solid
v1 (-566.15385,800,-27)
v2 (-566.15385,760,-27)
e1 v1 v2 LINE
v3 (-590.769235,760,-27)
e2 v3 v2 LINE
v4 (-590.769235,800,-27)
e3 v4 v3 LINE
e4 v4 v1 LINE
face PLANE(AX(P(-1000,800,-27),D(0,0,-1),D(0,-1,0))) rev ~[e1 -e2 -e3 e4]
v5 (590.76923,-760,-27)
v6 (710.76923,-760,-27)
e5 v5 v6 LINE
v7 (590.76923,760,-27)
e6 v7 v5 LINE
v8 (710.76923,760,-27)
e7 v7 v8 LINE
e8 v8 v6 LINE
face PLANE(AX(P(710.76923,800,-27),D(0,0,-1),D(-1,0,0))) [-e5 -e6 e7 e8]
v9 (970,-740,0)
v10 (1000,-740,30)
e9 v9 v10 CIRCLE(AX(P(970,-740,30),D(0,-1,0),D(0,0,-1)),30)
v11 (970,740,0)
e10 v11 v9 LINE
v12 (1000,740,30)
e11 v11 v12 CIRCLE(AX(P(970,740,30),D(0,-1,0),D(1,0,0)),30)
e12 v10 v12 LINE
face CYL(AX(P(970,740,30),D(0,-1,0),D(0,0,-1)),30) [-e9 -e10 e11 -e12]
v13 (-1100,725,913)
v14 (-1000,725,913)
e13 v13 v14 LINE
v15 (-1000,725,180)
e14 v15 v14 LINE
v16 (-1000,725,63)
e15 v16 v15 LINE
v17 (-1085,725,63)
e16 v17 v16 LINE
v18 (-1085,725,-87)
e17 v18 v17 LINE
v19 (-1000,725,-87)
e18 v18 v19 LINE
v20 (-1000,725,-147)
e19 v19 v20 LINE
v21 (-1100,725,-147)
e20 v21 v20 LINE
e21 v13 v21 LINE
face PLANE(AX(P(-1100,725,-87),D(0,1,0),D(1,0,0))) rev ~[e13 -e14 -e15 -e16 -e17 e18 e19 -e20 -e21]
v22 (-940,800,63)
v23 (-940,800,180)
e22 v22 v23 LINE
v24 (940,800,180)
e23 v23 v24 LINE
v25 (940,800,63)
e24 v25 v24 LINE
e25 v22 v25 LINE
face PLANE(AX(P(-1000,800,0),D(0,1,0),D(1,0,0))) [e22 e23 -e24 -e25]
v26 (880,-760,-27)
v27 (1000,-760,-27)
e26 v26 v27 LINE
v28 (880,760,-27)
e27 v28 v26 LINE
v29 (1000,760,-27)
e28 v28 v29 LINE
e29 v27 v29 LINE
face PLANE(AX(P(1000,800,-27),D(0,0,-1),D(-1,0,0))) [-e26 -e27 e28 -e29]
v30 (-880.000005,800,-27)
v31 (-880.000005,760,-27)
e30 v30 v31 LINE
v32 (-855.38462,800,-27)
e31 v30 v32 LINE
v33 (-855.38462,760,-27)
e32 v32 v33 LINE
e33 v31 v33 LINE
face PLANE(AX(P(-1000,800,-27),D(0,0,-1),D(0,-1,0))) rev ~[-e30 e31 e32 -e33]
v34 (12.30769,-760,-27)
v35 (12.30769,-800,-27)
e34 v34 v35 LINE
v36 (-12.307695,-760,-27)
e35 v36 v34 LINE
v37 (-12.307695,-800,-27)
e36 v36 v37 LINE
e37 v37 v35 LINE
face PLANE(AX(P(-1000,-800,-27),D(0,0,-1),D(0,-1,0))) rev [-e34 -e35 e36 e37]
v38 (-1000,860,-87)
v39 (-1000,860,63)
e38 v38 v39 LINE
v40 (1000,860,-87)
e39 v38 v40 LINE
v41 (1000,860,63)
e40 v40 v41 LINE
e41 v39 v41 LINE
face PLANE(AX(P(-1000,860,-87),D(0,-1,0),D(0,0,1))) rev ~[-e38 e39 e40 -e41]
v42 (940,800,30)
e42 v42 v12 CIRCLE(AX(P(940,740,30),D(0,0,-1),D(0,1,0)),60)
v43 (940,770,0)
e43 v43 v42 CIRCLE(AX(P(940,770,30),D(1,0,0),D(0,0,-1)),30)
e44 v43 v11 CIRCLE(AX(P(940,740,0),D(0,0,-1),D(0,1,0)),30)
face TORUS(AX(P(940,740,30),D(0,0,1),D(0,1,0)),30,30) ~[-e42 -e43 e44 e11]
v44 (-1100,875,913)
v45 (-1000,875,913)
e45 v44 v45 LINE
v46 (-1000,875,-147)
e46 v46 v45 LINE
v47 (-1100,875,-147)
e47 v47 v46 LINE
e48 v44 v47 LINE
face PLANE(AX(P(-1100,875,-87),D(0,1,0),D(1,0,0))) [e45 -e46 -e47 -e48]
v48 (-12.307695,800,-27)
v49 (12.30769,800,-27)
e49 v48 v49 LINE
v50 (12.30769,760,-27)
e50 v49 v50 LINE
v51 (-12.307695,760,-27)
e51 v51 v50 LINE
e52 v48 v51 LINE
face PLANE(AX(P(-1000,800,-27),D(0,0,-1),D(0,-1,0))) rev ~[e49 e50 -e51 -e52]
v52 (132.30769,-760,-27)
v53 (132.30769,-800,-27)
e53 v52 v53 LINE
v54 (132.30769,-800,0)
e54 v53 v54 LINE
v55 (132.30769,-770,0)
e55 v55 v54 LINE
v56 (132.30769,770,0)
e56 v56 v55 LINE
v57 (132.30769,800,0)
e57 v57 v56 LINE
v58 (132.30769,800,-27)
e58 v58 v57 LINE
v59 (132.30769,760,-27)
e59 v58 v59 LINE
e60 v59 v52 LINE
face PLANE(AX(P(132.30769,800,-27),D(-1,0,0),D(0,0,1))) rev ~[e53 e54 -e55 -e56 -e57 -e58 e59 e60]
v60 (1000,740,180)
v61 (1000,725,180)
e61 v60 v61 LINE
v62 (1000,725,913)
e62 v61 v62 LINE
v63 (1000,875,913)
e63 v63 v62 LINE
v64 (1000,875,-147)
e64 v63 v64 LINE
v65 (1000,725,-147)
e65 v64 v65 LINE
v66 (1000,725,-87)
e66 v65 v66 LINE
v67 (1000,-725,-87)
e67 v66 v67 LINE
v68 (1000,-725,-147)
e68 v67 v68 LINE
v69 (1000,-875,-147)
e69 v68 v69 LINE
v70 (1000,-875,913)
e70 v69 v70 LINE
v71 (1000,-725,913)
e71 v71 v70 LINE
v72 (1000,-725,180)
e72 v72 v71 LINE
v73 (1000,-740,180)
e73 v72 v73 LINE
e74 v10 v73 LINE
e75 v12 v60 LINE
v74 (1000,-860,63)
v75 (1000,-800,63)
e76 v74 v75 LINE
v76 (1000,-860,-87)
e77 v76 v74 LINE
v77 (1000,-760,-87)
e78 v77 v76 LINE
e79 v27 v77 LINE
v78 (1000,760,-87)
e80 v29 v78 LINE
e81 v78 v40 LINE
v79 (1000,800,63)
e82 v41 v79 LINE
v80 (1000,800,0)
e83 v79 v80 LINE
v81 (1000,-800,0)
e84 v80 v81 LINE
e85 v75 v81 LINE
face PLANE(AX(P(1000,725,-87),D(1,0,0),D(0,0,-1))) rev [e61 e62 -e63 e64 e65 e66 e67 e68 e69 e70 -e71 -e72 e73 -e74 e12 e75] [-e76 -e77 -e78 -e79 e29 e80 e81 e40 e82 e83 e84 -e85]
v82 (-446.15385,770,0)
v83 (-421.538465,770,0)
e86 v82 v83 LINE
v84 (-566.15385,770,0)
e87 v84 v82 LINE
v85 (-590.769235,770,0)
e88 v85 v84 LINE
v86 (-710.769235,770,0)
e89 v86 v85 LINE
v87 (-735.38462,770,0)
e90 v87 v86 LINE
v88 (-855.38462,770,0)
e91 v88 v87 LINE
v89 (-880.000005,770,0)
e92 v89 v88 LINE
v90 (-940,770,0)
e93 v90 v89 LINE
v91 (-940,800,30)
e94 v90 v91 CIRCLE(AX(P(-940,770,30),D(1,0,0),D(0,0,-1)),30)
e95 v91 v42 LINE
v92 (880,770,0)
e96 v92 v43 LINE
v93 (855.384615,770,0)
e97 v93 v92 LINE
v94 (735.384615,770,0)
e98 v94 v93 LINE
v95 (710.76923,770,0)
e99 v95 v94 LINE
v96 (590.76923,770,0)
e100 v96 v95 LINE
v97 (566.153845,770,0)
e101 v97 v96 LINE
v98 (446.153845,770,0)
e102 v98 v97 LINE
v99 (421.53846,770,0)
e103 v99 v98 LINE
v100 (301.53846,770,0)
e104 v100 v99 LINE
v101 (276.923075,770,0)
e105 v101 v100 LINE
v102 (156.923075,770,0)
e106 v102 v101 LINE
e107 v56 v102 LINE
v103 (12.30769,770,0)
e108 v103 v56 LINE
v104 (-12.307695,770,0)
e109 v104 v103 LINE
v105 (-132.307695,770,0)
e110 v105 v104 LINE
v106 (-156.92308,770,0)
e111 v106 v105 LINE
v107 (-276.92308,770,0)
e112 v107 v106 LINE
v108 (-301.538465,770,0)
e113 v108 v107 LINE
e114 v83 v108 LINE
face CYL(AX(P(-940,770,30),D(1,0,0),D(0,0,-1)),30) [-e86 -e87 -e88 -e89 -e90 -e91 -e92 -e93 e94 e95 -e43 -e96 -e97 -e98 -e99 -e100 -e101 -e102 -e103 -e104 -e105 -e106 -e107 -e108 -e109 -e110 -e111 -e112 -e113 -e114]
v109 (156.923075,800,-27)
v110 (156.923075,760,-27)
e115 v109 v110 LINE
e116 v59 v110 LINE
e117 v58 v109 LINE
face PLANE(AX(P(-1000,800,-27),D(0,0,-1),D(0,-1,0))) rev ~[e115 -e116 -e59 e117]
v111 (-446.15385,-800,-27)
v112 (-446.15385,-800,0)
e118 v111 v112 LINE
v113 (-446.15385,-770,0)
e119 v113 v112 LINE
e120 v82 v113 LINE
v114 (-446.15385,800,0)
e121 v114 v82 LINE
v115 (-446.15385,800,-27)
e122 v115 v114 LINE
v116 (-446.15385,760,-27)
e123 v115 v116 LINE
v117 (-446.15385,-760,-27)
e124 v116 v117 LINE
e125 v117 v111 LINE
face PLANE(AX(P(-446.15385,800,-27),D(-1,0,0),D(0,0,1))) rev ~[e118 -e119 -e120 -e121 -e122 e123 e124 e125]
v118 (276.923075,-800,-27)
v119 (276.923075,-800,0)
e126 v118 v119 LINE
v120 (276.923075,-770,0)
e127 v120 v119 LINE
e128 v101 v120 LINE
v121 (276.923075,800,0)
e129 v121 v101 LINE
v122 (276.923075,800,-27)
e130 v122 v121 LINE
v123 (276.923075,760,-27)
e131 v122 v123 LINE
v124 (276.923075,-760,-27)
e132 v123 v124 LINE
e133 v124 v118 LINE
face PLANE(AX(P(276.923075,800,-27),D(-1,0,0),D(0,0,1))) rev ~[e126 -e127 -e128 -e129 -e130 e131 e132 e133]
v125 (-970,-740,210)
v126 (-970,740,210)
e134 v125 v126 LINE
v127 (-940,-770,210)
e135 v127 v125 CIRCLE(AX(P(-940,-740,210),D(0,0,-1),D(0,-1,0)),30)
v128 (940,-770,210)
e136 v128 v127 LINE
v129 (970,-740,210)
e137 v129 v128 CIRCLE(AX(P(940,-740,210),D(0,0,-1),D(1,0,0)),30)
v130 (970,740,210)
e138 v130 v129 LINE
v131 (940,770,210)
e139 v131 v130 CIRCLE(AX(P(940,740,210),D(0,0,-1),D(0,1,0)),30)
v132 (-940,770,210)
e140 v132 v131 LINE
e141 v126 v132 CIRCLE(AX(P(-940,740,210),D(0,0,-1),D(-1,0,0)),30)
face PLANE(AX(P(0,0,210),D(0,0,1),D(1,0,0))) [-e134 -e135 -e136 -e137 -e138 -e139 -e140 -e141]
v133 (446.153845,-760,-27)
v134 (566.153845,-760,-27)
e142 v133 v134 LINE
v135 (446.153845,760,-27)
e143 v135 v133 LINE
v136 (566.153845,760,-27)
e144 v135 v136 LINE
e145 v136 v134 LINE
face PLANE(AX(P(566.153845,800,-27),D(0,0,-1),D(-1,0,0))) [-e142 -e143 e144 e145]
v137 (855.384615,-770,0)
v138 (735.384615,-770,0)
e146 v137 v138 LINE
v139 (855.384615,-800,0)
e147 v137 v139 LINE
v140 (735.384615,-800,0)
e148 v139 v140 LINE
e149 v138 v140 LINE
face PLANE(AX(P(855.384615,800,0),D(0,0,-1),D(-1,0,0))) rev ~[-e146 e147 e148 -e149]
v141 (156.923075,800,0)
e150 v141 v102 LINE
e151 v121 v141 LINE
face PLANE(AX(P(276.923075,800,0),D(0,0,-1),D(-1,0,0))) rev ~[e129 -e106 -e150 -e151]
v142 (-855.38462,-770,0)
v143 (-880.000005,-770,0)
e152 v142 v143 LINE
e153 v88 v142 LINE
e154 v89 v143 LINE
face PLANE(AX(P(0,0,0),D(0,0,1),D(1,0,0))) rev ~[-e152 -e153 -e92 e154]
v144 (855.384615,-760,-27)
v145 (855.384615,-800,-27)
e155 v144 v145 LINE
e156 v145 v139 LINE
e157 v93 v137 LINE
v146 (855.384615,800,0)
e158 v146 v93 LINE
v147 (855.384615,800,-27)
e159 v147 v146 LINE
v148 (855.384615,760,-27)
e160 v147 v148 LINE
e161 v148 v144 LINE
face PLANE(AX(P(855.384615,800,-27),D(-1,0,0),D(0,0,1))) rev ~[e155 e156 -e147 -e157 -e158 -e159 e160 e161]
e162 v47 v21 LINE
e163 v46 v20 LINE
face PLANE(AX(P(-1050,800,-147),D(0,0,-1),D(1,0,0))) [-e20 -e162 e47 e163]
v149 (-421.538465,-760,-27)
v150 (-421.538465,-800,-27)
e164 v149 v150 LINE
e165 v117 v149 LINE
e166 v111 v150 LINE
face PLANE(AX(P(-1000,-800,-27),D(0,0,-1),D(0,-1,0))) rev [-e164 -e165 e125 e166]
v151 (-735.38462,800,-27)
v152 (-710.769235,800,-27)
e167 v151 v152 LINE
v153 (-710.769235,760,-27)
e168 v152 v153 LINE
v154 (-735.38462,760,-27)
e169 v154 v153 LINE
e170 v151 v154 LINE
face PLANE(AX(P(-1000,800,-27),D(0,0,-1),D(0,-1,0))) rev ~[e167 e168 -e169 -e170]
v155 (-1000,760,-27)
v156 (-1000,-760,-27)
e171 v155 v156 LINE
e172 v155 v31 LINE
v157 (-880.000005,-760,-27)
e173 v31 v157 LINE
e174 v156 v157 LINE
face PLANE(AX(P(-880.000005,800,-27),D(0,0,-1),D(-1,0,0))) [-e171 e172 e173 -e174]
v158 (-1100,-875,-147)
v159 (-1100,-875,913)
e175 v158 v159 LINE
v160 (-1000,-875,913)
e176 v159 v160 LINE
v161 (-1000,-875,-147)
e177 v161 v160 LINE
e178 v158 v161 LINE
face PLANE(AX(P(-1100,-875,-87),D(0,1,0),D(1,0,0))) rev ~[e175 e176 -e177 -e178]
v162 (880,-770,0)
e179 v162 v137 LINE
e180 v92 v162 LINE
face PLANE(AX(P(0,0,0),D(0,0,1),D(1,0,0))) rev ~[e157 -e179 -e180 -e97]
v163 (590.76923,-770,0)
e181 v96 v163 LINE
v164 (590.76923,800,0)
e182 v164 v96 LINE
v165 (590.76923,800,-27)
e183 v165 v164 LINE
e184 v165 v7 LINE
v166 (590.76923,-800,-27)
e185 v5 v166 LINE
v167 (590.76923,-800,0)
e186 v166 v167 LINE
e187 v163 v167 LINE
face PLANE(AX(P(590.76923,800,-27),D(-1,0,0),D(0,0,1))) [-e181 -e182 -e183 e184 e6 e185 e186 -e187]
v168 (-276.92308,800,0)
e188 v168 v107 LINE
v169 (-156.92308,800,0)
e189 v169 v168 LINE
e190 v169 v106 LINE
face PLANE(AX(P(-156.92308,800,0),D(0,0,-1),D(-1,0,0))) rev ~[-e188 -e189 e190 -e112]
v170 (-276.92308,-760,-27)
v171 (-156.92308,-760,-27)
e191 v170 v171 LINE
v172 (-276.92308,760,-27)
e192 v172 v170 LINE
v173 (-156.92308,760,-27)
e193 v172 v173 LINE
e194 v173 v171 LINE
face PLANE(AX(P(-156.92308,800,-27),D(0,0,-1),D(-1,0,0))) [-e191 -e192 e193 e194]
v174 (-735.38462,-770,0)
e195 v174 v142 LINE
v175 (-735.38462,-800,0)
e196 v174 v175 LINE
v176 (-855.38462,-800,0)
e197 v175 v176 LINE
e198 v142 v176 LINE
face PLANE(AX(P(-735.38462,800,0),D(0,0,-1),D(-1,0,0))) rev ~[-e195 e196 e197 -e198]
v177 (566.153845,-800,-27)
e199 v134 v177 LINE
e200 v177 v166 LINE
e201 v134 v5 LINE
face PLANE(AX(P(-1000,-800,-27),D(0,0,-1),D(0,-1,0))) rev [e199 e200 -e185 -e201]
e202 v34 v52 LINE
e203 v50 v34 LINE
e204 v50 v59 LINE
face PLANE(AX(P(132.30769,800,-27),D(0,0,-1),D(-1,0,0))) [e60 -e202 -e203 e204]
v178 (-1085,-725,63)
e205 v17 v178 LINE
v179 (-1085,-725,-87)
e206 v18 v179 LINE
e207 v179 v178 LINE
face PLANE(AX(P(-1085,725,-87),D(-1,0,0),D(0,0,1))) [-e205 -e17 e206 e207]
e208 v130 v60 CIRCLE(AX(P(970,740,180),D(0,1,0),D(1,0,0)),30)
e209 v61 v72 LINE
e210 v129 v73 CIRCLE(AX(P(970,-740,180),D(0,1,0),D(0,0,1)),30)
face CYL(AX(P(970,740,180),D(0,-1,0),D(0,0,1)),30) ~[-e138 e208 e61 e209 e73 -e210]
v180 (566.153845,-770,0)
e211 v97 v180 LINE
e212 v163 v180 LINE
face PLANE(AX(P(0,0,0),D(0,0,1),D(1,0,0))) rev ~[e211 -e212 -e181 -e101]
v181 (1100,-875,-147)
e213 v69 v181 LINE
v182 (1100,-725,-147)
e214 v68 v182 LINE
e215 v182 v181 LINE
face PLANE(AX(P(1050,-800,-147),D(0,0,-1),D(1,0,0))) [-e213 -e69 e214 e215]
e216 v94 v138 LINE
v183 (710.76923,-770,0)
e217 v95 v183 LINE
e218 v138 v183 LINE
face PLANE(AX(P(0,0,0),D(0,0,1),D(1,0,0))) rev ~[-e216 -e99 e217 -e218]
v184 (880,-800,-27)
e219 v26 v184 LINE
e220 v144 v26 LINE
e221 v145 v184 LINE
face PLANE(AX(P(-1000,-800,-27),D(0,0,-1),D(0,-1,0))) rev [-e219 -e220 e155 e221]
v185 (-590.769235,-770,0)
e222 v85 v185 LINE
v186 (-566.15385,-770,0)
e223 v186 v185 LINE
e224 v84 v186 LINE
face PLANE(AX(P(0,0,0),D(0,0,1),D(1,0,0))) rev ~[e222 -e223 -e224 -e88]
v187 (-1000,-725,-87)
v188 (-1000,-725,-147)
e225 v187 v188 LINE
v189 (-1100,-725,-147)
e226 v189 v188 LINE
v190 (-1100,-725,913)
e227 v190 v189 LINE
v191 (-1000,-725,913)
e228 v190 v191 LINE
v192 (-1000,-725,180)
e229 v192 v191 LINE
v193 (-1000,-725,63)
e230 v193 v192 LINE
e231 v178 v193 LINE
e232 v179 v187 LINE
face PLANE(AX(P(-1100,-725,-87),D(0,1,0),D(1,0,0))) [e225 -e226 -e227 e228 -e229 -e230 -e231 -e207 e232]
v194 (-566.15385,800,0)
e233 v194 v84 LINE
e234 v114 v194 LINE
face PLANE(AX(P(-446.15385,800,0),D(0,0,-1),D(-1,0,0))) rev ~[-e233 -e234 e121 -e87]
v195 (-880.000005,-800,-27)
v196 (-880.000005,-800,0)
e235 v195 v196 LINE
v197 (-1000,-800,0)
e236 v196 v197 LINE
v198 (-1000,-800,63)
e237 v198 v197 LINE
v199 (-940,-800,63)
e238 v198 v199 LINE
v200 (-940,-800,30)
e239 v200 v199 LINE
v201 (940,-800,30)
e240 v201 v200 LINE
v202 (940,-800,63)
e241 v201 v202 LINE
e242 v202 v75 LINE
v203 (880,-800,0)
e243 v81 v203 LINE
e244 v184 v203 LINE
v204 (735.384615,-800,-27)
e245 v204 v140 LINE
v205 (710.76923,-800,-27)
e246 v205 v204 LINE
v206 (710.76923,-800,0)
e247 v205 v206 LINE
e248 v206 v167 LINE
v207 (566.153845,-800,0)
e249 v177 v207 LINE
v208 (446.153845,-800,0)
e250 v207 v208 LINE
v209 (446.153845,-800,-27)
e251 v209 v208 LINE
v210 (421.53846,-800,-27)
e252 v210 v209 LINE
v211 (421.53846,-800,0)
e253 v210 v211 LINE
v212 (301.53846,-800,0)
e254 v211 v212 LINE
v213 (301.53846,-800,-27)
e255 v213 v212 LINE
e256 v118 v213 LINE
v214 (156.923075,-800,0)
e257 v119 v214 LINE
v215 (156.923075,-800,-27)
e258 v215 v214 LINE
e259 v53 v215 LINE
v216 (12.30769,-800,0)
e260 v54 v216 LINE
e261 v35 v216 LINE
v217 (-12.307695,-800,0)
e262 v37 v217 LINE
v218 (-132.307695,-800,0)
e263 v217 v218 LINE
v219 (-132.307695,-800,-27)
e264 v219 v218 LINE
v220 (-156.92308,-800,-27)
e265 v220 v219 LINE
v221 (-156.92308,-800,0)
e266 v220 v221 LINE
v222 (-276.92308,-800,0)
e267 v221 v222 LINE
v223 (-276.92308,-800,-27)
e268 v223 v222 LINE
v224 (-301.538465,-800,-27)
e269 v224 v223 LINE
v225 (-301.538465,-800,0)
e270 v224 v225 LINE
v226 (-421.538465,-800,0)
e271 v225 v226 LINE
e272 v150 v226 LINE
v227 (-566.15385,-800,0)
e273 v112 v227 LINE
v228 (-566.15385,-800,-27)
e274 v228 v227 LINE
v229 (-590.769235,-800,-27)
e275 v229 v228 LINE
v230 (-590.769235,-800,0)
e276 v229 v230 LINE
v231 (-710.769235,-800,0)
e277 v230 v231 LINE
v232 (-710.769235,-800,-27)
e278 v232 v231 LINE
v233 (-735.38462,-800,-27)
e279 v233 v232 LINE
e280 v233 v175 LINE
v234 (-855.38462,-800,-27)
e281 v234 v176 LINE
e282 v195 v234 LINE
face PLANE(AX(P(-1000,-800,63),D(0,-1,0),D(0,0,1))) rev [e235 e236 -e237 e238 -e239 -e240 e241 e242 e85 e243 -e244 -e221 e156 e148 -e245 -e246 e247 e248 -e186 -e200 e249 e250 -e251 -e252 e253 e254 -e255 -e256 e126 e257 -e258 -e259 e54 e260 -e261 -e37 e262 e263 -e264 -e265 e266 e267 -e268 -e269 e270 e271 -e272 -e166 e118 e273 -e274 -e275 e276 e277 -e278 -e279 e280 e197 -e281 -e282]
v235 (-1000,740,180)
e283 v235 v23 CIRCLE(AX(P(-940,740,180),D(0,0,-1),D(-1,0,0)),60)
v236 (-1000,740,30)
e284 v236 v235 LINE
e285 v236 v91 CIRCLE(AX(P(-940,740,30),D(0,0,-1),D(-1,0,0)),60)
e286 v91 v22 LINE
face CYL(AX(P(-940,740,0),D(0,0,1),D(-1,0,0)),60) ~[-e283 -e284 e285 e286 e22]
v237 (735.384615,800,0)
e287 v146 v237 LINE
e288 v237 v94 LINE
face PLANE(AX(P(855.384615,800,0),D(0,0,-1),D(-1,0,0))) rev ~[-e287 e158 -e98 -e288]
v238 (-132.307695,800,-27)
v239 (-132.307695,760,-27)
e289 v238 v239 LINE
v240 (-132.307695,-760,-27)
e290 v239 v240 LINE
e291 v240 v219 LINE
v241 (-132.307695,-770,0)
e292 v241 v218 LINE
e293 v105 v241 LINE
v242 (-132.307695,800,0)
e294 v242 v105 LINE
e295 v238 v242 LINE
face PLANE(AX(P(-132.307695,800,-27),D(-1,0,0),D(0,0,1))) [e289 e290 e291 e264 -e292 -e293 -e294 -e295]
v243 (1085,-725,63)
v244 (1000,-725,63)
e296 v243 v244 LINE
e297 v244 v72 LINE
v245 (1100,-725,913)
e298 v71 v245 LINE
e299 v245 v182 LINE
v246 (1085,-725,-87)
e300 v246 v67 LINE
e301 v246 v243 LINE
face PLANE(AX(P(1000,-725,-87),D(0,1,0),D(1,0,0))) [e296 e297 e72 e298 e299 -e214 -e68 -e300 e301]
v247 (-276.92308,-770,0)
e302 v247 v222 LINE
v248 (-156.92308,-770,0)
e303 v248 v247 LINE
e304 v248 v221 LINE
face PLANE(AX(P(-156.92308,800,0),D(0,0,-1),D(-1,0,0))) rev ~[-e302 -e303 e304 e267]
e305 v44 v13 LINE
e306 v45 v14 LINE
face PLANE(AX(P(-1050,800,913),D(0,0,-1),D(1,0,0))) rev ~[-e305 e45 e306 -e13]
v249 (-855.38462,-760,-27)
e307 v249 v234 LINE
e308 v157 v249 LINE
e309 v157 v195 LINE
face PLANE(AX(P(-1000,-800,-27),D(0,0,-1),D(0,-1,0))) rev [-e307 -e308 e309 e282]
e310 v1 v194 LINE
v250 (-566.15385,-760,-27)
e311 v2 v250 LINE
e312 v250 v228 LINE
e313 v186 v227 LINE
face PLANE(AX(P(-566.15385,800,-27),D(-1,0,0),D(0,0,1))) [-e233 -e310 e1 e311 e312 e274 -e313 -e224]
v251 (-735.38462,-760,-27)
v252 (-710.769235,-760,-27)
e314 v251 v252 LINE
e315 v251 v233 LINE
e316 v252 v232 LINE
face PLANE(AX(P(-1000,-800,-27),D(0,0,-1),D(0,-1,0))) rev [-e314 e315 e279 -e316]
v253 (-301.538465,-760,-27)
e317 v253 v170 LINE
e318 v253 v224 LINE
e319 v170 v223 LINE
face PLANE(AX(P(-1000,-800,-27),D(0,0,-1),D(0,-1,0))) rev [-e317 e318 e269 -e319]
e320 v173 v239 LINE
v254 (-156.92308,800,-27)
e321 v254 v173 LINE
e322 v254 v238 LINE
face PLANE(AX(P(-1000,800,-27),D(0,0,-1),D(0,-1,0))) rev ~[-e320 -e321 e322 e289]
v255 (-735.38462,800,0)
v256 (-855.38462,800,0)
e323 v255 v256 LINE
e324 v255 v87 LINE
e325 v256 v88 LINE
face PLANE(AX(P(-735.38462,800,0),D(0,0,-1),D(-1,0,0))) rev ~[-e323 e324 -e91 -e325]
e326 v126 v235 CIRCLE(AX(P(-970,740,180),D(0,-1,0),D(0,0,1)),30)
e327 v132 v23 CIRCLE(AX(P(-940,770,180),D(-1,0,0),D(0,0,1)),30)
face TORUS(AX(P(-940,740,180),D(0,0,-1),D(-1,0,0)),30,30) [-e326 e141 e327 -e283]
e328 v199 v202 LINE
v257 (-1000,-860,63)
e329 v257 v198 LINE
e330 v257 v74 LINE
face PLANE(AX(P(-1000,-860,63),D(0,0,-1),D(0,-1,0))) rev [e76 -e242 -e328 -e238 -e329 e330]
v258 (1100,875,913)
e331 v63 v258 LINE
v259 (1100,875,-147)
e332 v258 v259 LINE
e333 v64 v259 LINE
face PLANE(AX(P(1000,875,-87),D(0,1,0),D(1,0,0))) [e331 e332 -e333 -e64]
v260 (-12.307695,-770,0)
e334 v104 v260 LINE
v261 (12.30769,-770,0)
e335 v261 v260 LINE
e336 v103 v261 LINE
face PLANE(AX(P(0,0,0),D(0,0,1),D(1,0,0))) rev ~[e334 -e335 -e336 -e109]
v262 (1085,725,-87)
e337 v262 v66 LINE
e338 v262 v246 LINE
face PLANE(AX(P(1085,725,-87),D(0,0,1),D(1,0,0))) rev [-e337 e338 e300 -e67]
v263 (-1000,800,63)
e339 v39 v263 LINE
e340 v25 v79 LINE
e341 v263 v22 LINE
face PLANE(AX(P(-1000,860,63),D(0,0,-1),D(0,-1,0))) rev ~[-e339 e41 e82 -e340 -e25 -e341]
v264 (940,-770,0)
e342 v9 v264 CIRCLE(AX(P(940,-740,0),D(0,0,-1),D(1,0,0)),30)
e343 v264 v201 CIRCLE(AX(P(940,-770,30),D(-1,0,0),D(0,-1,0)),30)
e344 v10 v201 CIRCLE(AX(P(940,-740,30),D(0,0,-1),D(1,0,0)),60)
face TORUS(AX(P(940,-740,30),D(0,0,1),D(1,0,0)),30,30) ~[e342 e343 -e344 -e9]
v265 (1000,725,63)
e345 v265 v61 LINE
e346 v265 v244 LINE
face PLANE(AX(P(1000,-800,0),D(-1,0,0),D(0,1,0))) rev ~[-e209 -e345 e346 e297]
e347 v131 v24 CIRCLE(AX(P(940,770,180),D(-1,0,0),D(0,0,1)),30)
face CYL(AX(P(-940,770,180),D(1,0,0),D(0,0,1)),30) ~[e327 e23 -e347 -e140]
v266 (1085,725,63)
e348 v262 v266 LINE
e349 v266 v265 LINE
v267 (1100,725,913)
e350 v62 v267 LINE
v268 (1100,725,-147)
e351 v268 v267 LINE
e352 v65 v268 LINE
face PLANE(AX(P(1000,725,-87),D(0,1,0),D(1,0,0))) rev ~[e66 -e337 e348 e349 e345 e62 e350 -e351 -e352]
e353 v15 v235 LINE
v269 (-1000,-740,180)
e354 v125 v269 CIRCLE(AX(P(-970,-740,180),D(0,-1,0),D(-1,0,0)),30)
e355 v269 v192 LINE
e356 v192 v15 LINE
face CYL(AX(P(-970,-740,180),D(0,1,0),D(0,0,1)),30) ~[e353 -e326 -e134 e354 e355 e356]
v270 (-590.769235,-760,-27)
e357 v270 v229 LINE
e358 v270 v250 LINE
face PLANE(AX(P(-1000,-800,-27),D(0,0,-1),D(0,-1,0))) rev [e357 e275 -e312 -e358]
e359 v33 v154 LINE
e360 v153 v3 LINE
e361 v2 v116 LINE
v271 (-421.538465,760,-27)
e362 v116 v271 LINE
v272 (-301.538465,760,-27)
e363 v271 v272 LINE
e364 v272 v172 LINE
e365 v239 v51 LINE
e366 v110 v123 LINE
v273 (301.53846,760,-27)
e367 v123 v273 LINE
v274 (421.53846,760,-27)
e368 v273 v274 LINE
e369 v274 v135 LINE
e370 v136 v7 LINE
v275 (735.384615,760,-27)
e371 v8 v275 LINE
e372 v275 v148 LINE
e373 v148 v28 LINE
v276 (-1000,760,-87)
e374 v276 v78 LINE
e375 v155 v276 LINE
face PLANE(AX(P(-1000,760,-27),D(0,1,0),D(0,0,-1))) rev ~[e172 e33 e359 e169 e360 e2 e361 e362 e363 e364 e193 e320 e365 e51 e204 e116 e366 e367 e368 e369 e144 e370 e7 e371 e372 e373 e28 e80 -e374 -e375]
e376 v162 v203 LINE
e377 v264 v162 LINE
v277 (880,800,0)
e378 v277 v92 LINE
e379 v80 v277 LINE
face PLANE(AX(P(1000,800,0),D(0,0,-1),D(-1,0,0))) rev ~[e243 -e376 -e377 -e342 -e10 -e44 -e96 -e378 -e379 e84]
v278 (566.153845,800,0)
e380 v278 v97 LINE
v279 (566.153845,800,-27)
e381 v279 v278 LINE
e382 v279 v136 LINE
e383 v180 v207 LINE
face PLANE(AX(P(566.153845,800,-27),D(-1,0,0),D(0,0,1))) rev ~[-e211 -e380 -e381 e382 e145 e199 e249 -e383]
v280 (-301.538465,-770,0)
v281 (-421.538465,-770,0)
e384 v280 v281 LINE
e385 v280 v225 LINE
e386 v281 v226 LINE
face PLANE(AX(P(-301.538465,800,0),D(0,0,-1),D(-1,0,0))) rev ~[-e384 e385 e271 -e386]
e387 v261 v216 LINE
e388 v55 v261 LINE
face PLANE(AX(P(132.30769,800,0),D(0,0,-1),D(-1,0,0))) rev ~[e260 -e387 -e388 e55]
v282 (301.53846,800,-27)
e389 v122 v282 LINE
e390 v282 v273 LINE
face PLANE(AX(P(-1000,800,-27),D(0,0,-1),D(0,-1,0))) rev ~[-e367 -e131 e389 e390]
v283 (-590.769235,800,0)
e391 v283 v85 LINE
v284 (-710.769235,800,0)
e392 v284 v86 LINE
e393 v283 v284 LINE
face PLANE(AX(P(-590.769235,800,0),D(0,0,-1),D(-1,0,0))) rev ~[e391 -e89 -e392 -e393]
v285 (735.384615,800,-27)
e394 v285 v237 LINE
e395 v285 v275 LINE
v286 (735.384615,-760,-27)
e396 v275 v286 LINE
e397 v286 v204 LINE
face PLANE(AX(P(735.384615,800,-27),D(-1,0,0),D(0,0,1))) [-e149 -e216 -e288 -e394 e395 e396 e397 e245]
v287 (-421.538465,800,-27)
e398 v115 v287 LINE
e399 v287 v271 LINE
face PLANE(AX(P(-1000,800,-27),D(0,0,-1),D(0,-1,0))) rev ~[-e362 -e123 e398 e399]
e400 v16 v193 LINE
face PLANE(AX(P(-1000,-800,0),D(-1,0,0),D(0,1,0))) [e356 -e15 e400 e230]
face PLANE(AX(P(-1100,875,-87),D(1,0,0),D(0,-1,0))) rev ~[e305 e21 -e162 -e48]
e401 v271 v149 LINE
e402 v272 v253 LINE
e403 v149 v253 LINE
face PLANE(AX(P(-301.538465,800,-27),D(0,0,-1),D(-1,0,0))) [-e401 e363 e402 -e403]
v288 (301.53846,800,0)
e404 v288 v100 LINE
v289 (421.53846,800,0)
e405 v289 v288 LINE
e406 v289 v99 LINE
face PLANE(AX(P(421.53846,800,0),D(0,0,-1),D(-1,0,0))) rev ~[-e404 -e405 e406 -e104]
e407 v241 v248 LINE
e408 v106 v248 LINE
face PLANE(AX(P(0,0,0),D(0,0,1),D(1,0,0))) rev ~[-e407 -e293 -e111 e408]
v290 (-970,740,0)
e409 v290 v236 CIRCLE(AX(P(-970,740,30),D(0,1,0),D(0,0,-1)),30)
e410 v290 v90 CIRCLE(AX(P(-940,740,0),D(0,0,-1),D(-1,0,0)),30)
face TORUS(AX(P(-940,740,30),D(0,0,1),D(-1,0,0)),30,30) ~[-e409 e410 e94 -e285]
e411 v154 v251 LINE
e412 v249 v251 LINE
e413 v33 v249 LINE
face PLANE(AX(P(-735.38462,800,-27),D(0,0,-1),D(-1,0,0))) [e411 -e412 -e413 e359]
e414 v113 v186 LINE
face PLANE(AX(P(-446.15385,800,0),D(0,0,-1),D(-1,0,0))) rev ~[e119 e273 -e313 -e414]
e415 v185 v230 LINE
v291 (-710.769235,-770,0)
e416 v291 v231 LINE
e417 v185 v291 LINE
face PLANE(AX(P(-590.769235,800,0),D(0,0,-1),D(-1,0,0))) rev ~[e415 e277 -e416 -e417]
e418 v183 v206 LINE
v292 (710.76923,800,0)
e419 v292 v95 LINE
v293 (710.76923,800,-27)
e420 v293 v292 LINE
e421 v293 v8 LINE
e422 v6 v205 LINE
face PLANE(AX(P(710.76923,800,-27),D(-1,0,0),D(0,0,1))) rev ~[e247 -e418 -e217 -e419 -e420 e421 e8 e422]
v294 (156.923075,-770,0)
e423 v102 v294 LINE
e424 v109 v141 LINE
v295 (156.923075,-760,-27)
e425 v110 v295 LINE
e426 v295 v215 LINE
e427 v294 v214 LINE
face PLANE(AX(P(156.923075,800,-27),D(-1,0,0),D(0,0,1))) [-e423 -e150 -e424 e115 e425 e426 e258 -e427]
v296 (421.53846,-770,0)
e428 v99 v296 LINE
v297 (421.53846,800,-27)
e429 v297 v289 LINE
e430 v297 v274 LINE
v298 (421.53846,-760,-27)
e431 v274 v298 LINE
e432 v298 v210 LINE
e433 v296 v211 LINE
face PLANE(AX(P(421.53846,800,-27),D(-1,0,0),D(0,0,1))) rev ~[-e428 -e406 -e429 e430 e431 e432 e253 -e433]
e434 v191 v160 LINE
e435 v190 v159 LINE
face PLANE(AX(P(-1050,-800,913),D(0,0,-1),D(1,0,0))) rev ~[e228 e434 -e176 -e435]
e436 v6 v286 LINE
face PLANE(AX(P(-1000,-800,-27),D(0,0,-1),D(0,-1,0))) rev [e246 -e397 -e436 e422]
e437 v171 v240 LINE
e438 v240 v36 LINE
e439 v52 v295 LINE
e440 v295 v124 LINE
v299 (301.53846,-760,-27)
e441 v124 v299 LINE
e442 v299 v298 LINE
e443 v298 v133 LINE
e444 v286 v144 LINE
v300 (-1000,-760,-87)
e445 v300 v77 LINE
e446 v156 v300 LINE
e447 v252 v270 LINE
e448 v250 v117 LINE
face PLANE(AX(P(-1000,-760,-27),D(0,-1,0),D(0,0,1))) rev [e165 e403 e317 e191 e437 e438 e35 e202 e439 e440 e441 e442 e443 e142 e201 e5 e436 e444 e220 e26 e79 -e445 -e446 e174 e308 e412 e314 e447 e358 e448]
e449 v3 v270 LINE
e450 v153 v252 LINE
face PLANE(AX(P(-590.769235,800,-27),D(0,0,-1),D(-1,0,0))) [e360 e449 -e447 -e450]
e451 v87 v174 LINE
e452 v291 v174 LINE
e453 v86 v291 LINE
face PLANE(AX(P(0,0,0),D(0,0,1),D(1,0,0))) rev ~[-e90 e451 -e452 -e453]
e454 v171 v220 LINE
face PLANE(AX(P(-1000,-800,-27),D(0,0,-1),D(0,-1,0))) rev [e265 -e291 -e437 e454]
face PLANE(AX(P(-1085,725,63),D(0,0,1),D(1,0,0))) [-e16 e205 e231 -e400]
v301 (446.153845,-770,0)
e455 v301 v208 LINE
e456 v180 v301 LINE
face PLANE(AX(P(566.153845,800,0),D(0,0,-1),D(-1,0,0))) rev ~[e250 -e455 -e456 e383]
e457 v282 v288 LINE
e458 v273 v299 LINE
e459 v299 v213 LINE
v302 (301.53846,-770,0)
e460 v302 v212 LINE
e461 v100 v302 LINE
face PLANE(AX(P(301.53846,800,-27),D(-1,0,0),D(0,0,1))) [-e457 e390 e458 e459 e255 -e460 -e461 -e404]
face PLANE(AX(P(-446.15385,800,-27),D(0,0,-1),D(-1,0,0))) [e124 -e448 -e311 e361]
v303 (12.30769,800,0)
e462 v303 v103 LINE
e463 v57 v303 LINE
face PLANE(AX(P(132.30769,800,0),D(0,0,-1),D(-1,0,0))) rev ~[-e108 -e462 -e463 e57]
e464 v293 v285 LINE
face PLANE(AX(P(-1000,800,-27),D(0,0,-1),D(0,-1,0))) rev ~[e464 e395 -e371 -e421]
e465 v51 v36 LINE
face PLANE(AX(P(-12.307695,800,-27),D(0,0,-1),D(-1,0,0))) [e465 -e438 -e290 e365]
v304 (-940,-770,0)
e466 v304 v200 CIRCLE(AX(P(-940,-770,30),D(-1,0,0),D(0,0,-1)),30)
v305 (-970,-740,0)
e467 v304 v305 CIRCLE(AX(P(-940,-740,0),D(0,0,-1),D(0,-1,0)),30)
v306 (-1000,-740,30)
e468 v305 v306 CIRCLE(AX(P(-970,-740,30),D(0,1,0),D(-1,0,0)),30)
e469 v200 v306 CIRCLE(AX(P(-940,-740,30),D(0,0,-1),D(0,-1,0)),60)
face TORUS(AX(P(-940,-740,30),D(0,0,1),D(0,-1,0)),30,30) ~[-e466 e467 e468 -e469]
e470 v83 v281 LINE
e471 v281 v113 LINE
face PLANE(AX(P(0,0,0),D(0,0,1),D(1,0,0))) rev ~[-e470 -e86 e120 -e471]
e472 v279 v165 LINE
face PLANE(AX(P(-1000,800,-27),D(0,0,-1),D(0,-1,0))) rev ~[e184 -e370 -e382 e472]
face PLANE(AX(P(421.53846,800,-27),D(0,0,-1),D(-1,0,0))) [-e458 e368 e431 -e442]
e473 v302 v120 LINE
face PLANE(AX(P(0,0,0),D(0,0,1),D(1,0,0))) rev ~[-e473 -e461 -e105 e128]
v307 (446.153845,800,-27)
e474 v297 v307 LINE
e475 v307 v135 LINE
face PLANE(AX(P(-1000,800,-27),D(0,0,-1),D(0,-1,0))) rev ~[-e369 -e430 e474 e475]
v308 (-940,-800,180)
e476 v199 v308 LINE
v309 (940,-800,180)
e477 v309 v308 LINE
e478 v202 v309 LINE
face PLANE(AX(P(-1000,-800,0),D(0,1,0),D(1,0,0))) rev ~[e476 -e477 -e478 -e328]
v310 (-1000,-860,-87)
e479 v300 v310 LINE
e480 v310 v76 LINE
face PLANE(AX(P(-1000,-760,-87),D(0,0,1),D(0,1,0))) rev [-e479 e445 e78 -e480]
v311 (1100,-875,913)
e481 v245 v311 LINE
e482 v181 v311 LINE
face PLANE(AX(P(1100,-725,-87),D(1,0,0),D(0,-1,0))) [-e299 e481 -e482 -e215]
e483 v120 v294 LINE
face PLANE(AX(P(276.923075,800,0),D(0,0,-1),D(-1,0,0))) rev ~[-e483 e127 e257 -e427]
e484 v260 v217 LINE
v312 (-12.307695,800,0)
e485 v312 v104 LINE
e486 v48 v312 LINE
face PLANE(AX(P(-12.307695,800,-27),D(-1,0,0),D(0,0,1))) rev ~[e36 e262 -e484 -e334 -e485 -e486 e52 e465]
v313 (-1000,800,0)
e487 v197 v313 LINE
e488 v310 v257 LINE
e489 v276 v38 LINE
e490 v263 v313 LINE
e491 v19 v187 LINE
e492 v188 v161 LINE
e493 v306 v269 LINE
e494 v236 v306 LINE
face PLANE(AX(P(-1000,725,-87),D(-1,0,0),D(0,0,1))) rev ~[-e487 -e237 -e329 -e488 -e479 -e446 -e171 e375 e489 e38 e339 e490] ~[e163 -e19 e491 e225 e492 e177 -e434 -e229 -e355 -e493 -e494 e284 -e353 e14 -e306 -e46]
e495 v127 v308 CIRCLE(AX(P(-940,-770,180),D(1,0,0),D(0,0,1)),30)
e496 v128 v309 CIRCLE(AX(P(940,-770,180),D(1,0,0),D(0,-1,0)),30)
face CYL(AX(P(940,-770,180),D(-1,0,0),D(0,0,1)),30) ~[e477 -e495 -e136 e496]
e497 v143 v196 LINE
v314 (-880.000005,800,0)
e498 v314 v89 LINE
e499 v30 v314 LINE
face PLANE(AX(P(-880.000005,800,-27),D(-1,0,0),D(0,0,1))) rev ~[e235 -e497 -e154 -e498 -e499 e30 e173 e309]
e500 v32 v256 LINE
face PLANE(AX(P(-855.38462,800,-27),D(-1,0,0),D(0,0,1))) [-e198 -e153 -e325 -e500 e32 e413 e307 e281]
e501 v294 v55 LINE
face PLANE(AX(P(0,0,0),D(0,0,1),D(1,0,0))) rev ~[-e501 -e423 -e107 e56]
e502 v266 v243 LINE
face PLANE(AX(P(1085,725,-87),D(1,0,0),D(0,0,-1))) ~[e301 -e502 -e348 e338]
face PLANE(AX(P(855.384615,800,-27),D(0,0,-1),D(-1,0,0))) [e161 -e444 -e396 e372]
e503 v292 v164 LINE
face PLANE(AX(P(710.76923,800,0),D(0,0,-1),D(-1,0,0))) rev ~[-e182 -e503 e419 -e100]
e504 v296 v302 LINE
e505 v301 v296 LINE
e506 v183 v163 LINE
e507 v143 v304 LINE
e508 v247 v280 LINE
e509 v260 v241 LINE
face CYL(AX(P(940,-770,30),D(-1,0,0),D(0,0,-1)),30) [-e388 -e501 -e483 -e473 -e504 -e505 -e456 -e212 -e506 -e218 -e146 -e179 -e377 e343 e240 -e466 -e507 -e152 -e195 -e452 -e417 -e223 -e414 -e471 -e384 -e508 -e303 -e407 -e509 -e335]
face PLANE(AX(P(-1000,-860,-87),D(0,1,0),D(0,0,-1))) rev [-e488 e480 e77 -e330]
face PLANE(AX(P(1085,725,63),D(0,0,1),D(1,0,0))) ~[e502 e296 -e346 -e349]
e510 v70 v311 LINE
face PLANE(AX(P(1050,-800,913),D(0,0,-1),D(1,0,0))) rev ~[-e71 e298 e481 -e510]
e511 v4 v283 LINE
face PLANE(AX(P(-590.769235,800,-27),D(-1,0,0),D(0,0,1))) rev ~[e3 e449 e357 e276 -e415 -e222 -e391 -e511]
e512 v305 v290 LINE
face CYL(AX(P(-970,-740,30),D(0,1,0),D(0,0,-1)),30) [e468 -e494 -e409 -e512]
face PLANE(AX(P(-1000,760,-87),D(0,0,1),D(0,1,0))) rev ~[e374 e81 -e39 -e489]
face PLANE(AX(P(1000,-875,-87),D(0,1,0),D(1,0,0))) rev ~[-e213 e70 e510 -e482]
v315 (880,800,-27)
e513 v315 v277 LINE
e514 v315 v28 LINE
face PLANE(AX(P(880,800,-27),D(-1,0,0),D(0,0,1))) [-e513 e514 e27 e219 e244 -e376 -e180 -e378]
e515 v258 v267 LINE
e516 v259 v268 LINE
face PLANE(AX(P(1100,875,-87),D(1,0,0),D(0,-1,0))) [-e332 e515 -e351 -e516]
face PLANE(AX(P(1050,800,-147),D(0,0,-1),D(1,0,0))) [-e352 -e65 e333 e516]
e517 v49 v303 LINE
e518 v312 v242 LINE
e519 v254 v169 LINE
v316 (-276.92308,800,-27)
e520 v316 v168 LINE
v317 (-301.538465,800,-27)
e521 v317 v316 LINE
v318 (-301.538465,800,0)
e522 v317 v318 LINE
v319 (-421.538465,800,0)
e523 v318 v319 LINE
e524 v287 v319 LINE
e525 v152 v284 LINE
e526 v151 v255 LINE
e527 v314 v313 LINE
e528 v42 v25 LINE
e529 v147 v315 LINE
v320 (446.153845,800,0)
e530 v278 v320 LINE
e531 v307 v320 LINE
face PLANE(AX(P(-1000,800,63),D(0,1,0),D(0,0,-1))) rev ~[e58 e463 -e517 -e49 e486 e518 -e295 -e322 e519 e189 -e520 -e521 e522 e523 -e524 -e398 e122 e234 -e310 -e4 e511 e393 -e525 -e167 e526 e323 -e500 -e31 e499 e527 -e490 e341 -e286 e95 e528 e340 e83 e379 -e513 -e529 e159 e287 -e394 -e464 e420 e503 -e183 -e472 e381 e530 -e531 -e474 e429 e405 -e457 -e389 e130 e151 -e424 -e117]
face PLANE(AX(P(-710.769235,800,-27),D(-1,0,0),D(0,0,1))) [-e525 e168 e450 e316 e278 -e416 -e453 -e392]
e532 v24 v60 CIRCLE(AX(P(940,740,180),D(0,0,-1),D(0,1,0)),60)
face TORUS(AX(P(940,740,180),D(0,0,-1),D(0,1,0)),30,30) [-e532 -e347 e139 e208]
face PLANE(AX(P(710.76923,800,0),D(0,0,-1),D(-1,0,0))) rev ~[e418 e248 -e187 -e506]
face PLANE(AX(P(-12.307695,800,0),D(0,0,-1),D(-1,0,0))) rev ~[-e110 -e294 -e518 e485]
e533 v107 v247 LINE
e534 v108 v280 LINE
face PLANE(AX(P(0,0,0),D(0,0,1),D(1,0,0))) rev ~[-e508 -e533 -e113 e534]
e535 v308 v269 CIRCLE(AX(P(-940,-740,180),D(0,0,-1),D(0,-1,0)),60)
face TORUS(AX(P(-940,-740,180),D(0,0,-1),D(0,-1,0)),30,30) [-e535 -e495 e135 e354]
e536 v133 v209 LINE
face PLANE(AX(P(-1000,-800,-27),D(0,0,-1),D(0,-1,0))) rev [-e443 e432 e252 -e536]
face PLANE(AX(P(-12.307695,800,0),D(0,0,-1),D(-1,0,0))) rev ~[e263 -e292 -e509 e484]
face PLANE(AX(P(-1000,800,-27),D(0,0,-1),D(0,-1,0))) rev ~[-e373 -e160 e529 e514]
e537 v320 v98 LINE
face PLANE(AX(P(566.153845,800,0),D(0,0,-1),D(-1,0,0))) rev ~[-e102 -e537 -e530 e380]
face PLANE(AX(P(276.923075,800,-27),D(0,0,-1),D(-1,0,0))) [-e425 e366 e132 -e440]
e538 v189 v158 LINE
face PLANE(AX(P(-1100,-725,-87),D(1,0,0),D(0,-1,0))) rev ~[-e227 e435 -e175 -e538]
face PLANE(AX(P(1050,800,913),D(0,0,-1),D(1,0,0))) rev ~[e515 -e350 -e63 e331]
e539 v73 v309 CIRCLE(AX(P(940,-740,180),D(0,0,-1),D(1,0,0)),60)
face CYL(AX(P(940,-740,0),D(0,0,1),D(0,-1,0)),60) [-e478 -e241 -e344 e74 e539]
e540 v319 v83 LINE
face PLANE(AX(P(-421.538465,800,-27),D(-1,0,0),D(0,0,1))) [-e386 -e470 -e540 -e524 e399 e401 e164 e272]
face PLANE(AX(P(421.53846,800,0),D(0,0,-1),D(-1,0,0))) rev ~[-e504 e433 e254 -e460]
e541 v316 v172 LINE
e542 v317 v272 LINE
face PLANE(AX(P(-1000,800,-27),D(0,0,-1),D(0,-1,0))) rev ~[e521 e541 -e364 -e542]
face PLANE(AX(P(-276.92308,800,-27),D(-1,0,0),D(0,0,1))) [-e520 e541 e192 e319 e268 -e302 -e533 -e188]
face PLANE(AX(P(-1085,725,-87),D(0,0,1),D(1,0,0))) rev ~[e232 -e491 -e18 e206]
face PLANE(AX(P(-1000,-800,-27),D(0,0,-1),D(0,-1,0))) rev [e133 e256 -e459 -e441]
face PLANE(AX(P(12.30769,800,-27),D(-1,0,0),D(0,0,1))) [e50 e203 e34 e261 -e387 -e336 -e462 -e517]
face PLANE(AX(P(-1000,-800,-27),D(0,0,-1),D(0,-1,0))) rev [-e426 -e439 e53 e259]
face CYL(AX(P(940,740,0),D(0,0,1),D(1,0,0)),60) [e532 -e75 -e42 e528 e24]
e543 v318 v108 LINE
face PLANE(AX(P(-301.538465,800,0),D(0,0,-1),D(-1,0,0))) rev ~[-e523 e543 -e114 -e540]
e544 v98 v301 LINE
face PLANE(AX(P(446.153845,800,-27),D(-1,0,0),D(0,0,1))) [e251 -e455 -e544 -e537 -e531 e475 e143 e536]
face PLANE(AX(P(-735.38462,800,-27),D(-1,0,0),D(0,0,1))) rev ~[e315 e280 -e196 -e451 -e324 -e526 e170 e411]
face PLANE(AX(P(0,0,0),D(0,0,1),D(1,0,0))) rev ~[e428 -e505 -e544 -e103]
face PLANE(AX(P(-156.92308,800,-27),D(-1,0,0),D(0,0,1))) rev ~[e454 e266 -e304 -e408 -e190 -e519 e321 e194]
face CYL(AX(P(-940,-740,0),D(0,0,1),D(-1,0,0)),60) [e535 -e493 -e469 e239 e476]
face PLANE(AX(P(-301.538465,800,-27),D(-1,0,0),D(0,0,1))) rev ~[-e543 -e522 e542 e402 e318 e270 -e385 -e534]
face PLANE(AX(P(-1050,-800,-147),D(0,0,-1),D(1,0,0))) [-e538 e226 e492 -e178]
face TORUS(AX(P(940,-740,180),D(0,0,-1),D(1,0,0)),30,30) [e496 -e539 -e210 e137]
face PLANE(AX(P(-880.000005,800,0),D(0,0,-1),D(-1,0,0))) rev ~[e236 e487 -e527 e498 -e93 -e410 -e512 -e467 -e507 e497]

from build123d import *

# Parameters (mm, degrees)
SKETCH_W            = 2000
SKETCH_H            = 1600
PAD_DEPTH           = 210
FILLET_R            = 60
FILLET001_R         = 30
FILLET002_R         = 30
SKETCH001_W         = 120
SKETCH001_H         = 27
PAD001_DEPTH        = 1600
LINEARPATTERN_COUNT = 14
LINEARPATTERN_PITCH = 144.615385
PAD002_DEPTH        = 2000
SKETCH003_W         = 100
SKETCH003_H         = 150
PAD003_DEPTH        = 60
PAD003_DEPTH_BACK   = 1000
SKETCH004_W         = 85
SKETCH004_H         = 150
PAD004_DEPTH        = 1450


with BuildPart() as part:
    # Sketch → Pad (new body)
    with BuildSketch(Plane.XY):
        Rectangle(SKETCH_W, SKETCH_H)
    extrude(amount=PAD_DEPTH)

    # Fillet
    fillet_edges = [part.edges().sort_by_distance(p)[0] for p in [
        (1000, 800, 105),
        (1000, -800, 105),
        (-1000, -800, 105),
        (-1000, 800, 105),
    ]]
    fillet(fillet_edges, radius=FILLET_R)

    # Fillet001
    fillet001_edges = [part.edges().sort_by_distance(p)[0] for p in [
        (0, 800, 210),
    ]]
    fillet(fillet001_edges, radius=FILLET001_R)

    # Fillet002
    fillet002_edges = [part.edges().sort_by_distance(p)[0] for p in [
        (0, 800, 0),
    ]]
    fillet(fillet002_edges, radius=FILLET002_R)

    # Sketch001 (on Face1 of Fillet002) → Pad001 (join)
    with BuildSketch(Plane(origin=(0, 800, 0), x_dir=(-1, 0, 0), z_dir=(0, 1, 0))):
        with Locations((-940, -13.5)):
            Rectangle(SKETCH001_W, SKETCH001_H)
    pad001 = extrude(amount=-PAD001_DEPTH)

    # LinearPattern: Pad001 ×14
    with Locations(*[(-i * LINEARPATTERN_PITCH, 0, 0) for i in range(1, LINEARPATTERN_COUNT)]):
        add(pad001)

    # Sketch002 (on Face8 of LinearPattern) → Pad002 (join)
    with BuildSketch(Plane(origin=(-1000, 0, 0), x_dir=(0, -1, 0), z_dir=(-1, 0, 0))):
        Polygon((-860, 63), (-800, 63), (-800, -27), (-760, -27), (-760, -87), (-860, -87), align=None)
    pad002 = extrude(amount=-PAD002_DEPTH)

    # Mirrored: Pad002 across Sketch002 V_Axis
    add(pad002.mirror(Plane(origin=(-1000, 0, 0), x_dir=(-1, 0, 0), z_dir=(0, -1, 0))))

    # Sketch003 (on Face146 of Mirrored) → Pad003 (join, two sides)
    with BuildSketch(Plane(origin=(0, 0, -87), x_dir=(1, 0, 0), z_dir=(0, 0, -1))) as pad003_sk:
        with Locations((-1050, 800)):
            Rectangle(SKETCH003_W, SKETCH003_H)
        with Locations((1050, 800)):
            Rectangle(SKETCH003_W, SKETCH003_H)
        with Locations((1050, -800)):
            Rectangle(SKETCH003_W, SKETCH003_H)
        with Locations((-1050, -800)):
            Rectangle(SKETCH003_W, SKETCH003_H)
    extrude(amount=PAD003_DEPTH)
    extrude(pad003_sk.sketch, amount=-PAD003_DEPTH_BACK)

    # Sketch004 (on Face55 of Pad003) → Pad004 (join)
    with BuildSketch(Plane.XZ.offset(-725)):
        with Locations((-1042.5, -12)):
            Rectangle(SKETCH004_W, SKETCH004_H)
    pad004 = extrude(amount=PAD004_DEPTH)

    # Mirrored001: Pad004 across Sketch004 V_Axis
    add(pad004.mirror(Plane(origin=(0, 725, 0), x_dir=(0, -1, 0), z_dir=(1, 0, 0))))


solid = part.part
